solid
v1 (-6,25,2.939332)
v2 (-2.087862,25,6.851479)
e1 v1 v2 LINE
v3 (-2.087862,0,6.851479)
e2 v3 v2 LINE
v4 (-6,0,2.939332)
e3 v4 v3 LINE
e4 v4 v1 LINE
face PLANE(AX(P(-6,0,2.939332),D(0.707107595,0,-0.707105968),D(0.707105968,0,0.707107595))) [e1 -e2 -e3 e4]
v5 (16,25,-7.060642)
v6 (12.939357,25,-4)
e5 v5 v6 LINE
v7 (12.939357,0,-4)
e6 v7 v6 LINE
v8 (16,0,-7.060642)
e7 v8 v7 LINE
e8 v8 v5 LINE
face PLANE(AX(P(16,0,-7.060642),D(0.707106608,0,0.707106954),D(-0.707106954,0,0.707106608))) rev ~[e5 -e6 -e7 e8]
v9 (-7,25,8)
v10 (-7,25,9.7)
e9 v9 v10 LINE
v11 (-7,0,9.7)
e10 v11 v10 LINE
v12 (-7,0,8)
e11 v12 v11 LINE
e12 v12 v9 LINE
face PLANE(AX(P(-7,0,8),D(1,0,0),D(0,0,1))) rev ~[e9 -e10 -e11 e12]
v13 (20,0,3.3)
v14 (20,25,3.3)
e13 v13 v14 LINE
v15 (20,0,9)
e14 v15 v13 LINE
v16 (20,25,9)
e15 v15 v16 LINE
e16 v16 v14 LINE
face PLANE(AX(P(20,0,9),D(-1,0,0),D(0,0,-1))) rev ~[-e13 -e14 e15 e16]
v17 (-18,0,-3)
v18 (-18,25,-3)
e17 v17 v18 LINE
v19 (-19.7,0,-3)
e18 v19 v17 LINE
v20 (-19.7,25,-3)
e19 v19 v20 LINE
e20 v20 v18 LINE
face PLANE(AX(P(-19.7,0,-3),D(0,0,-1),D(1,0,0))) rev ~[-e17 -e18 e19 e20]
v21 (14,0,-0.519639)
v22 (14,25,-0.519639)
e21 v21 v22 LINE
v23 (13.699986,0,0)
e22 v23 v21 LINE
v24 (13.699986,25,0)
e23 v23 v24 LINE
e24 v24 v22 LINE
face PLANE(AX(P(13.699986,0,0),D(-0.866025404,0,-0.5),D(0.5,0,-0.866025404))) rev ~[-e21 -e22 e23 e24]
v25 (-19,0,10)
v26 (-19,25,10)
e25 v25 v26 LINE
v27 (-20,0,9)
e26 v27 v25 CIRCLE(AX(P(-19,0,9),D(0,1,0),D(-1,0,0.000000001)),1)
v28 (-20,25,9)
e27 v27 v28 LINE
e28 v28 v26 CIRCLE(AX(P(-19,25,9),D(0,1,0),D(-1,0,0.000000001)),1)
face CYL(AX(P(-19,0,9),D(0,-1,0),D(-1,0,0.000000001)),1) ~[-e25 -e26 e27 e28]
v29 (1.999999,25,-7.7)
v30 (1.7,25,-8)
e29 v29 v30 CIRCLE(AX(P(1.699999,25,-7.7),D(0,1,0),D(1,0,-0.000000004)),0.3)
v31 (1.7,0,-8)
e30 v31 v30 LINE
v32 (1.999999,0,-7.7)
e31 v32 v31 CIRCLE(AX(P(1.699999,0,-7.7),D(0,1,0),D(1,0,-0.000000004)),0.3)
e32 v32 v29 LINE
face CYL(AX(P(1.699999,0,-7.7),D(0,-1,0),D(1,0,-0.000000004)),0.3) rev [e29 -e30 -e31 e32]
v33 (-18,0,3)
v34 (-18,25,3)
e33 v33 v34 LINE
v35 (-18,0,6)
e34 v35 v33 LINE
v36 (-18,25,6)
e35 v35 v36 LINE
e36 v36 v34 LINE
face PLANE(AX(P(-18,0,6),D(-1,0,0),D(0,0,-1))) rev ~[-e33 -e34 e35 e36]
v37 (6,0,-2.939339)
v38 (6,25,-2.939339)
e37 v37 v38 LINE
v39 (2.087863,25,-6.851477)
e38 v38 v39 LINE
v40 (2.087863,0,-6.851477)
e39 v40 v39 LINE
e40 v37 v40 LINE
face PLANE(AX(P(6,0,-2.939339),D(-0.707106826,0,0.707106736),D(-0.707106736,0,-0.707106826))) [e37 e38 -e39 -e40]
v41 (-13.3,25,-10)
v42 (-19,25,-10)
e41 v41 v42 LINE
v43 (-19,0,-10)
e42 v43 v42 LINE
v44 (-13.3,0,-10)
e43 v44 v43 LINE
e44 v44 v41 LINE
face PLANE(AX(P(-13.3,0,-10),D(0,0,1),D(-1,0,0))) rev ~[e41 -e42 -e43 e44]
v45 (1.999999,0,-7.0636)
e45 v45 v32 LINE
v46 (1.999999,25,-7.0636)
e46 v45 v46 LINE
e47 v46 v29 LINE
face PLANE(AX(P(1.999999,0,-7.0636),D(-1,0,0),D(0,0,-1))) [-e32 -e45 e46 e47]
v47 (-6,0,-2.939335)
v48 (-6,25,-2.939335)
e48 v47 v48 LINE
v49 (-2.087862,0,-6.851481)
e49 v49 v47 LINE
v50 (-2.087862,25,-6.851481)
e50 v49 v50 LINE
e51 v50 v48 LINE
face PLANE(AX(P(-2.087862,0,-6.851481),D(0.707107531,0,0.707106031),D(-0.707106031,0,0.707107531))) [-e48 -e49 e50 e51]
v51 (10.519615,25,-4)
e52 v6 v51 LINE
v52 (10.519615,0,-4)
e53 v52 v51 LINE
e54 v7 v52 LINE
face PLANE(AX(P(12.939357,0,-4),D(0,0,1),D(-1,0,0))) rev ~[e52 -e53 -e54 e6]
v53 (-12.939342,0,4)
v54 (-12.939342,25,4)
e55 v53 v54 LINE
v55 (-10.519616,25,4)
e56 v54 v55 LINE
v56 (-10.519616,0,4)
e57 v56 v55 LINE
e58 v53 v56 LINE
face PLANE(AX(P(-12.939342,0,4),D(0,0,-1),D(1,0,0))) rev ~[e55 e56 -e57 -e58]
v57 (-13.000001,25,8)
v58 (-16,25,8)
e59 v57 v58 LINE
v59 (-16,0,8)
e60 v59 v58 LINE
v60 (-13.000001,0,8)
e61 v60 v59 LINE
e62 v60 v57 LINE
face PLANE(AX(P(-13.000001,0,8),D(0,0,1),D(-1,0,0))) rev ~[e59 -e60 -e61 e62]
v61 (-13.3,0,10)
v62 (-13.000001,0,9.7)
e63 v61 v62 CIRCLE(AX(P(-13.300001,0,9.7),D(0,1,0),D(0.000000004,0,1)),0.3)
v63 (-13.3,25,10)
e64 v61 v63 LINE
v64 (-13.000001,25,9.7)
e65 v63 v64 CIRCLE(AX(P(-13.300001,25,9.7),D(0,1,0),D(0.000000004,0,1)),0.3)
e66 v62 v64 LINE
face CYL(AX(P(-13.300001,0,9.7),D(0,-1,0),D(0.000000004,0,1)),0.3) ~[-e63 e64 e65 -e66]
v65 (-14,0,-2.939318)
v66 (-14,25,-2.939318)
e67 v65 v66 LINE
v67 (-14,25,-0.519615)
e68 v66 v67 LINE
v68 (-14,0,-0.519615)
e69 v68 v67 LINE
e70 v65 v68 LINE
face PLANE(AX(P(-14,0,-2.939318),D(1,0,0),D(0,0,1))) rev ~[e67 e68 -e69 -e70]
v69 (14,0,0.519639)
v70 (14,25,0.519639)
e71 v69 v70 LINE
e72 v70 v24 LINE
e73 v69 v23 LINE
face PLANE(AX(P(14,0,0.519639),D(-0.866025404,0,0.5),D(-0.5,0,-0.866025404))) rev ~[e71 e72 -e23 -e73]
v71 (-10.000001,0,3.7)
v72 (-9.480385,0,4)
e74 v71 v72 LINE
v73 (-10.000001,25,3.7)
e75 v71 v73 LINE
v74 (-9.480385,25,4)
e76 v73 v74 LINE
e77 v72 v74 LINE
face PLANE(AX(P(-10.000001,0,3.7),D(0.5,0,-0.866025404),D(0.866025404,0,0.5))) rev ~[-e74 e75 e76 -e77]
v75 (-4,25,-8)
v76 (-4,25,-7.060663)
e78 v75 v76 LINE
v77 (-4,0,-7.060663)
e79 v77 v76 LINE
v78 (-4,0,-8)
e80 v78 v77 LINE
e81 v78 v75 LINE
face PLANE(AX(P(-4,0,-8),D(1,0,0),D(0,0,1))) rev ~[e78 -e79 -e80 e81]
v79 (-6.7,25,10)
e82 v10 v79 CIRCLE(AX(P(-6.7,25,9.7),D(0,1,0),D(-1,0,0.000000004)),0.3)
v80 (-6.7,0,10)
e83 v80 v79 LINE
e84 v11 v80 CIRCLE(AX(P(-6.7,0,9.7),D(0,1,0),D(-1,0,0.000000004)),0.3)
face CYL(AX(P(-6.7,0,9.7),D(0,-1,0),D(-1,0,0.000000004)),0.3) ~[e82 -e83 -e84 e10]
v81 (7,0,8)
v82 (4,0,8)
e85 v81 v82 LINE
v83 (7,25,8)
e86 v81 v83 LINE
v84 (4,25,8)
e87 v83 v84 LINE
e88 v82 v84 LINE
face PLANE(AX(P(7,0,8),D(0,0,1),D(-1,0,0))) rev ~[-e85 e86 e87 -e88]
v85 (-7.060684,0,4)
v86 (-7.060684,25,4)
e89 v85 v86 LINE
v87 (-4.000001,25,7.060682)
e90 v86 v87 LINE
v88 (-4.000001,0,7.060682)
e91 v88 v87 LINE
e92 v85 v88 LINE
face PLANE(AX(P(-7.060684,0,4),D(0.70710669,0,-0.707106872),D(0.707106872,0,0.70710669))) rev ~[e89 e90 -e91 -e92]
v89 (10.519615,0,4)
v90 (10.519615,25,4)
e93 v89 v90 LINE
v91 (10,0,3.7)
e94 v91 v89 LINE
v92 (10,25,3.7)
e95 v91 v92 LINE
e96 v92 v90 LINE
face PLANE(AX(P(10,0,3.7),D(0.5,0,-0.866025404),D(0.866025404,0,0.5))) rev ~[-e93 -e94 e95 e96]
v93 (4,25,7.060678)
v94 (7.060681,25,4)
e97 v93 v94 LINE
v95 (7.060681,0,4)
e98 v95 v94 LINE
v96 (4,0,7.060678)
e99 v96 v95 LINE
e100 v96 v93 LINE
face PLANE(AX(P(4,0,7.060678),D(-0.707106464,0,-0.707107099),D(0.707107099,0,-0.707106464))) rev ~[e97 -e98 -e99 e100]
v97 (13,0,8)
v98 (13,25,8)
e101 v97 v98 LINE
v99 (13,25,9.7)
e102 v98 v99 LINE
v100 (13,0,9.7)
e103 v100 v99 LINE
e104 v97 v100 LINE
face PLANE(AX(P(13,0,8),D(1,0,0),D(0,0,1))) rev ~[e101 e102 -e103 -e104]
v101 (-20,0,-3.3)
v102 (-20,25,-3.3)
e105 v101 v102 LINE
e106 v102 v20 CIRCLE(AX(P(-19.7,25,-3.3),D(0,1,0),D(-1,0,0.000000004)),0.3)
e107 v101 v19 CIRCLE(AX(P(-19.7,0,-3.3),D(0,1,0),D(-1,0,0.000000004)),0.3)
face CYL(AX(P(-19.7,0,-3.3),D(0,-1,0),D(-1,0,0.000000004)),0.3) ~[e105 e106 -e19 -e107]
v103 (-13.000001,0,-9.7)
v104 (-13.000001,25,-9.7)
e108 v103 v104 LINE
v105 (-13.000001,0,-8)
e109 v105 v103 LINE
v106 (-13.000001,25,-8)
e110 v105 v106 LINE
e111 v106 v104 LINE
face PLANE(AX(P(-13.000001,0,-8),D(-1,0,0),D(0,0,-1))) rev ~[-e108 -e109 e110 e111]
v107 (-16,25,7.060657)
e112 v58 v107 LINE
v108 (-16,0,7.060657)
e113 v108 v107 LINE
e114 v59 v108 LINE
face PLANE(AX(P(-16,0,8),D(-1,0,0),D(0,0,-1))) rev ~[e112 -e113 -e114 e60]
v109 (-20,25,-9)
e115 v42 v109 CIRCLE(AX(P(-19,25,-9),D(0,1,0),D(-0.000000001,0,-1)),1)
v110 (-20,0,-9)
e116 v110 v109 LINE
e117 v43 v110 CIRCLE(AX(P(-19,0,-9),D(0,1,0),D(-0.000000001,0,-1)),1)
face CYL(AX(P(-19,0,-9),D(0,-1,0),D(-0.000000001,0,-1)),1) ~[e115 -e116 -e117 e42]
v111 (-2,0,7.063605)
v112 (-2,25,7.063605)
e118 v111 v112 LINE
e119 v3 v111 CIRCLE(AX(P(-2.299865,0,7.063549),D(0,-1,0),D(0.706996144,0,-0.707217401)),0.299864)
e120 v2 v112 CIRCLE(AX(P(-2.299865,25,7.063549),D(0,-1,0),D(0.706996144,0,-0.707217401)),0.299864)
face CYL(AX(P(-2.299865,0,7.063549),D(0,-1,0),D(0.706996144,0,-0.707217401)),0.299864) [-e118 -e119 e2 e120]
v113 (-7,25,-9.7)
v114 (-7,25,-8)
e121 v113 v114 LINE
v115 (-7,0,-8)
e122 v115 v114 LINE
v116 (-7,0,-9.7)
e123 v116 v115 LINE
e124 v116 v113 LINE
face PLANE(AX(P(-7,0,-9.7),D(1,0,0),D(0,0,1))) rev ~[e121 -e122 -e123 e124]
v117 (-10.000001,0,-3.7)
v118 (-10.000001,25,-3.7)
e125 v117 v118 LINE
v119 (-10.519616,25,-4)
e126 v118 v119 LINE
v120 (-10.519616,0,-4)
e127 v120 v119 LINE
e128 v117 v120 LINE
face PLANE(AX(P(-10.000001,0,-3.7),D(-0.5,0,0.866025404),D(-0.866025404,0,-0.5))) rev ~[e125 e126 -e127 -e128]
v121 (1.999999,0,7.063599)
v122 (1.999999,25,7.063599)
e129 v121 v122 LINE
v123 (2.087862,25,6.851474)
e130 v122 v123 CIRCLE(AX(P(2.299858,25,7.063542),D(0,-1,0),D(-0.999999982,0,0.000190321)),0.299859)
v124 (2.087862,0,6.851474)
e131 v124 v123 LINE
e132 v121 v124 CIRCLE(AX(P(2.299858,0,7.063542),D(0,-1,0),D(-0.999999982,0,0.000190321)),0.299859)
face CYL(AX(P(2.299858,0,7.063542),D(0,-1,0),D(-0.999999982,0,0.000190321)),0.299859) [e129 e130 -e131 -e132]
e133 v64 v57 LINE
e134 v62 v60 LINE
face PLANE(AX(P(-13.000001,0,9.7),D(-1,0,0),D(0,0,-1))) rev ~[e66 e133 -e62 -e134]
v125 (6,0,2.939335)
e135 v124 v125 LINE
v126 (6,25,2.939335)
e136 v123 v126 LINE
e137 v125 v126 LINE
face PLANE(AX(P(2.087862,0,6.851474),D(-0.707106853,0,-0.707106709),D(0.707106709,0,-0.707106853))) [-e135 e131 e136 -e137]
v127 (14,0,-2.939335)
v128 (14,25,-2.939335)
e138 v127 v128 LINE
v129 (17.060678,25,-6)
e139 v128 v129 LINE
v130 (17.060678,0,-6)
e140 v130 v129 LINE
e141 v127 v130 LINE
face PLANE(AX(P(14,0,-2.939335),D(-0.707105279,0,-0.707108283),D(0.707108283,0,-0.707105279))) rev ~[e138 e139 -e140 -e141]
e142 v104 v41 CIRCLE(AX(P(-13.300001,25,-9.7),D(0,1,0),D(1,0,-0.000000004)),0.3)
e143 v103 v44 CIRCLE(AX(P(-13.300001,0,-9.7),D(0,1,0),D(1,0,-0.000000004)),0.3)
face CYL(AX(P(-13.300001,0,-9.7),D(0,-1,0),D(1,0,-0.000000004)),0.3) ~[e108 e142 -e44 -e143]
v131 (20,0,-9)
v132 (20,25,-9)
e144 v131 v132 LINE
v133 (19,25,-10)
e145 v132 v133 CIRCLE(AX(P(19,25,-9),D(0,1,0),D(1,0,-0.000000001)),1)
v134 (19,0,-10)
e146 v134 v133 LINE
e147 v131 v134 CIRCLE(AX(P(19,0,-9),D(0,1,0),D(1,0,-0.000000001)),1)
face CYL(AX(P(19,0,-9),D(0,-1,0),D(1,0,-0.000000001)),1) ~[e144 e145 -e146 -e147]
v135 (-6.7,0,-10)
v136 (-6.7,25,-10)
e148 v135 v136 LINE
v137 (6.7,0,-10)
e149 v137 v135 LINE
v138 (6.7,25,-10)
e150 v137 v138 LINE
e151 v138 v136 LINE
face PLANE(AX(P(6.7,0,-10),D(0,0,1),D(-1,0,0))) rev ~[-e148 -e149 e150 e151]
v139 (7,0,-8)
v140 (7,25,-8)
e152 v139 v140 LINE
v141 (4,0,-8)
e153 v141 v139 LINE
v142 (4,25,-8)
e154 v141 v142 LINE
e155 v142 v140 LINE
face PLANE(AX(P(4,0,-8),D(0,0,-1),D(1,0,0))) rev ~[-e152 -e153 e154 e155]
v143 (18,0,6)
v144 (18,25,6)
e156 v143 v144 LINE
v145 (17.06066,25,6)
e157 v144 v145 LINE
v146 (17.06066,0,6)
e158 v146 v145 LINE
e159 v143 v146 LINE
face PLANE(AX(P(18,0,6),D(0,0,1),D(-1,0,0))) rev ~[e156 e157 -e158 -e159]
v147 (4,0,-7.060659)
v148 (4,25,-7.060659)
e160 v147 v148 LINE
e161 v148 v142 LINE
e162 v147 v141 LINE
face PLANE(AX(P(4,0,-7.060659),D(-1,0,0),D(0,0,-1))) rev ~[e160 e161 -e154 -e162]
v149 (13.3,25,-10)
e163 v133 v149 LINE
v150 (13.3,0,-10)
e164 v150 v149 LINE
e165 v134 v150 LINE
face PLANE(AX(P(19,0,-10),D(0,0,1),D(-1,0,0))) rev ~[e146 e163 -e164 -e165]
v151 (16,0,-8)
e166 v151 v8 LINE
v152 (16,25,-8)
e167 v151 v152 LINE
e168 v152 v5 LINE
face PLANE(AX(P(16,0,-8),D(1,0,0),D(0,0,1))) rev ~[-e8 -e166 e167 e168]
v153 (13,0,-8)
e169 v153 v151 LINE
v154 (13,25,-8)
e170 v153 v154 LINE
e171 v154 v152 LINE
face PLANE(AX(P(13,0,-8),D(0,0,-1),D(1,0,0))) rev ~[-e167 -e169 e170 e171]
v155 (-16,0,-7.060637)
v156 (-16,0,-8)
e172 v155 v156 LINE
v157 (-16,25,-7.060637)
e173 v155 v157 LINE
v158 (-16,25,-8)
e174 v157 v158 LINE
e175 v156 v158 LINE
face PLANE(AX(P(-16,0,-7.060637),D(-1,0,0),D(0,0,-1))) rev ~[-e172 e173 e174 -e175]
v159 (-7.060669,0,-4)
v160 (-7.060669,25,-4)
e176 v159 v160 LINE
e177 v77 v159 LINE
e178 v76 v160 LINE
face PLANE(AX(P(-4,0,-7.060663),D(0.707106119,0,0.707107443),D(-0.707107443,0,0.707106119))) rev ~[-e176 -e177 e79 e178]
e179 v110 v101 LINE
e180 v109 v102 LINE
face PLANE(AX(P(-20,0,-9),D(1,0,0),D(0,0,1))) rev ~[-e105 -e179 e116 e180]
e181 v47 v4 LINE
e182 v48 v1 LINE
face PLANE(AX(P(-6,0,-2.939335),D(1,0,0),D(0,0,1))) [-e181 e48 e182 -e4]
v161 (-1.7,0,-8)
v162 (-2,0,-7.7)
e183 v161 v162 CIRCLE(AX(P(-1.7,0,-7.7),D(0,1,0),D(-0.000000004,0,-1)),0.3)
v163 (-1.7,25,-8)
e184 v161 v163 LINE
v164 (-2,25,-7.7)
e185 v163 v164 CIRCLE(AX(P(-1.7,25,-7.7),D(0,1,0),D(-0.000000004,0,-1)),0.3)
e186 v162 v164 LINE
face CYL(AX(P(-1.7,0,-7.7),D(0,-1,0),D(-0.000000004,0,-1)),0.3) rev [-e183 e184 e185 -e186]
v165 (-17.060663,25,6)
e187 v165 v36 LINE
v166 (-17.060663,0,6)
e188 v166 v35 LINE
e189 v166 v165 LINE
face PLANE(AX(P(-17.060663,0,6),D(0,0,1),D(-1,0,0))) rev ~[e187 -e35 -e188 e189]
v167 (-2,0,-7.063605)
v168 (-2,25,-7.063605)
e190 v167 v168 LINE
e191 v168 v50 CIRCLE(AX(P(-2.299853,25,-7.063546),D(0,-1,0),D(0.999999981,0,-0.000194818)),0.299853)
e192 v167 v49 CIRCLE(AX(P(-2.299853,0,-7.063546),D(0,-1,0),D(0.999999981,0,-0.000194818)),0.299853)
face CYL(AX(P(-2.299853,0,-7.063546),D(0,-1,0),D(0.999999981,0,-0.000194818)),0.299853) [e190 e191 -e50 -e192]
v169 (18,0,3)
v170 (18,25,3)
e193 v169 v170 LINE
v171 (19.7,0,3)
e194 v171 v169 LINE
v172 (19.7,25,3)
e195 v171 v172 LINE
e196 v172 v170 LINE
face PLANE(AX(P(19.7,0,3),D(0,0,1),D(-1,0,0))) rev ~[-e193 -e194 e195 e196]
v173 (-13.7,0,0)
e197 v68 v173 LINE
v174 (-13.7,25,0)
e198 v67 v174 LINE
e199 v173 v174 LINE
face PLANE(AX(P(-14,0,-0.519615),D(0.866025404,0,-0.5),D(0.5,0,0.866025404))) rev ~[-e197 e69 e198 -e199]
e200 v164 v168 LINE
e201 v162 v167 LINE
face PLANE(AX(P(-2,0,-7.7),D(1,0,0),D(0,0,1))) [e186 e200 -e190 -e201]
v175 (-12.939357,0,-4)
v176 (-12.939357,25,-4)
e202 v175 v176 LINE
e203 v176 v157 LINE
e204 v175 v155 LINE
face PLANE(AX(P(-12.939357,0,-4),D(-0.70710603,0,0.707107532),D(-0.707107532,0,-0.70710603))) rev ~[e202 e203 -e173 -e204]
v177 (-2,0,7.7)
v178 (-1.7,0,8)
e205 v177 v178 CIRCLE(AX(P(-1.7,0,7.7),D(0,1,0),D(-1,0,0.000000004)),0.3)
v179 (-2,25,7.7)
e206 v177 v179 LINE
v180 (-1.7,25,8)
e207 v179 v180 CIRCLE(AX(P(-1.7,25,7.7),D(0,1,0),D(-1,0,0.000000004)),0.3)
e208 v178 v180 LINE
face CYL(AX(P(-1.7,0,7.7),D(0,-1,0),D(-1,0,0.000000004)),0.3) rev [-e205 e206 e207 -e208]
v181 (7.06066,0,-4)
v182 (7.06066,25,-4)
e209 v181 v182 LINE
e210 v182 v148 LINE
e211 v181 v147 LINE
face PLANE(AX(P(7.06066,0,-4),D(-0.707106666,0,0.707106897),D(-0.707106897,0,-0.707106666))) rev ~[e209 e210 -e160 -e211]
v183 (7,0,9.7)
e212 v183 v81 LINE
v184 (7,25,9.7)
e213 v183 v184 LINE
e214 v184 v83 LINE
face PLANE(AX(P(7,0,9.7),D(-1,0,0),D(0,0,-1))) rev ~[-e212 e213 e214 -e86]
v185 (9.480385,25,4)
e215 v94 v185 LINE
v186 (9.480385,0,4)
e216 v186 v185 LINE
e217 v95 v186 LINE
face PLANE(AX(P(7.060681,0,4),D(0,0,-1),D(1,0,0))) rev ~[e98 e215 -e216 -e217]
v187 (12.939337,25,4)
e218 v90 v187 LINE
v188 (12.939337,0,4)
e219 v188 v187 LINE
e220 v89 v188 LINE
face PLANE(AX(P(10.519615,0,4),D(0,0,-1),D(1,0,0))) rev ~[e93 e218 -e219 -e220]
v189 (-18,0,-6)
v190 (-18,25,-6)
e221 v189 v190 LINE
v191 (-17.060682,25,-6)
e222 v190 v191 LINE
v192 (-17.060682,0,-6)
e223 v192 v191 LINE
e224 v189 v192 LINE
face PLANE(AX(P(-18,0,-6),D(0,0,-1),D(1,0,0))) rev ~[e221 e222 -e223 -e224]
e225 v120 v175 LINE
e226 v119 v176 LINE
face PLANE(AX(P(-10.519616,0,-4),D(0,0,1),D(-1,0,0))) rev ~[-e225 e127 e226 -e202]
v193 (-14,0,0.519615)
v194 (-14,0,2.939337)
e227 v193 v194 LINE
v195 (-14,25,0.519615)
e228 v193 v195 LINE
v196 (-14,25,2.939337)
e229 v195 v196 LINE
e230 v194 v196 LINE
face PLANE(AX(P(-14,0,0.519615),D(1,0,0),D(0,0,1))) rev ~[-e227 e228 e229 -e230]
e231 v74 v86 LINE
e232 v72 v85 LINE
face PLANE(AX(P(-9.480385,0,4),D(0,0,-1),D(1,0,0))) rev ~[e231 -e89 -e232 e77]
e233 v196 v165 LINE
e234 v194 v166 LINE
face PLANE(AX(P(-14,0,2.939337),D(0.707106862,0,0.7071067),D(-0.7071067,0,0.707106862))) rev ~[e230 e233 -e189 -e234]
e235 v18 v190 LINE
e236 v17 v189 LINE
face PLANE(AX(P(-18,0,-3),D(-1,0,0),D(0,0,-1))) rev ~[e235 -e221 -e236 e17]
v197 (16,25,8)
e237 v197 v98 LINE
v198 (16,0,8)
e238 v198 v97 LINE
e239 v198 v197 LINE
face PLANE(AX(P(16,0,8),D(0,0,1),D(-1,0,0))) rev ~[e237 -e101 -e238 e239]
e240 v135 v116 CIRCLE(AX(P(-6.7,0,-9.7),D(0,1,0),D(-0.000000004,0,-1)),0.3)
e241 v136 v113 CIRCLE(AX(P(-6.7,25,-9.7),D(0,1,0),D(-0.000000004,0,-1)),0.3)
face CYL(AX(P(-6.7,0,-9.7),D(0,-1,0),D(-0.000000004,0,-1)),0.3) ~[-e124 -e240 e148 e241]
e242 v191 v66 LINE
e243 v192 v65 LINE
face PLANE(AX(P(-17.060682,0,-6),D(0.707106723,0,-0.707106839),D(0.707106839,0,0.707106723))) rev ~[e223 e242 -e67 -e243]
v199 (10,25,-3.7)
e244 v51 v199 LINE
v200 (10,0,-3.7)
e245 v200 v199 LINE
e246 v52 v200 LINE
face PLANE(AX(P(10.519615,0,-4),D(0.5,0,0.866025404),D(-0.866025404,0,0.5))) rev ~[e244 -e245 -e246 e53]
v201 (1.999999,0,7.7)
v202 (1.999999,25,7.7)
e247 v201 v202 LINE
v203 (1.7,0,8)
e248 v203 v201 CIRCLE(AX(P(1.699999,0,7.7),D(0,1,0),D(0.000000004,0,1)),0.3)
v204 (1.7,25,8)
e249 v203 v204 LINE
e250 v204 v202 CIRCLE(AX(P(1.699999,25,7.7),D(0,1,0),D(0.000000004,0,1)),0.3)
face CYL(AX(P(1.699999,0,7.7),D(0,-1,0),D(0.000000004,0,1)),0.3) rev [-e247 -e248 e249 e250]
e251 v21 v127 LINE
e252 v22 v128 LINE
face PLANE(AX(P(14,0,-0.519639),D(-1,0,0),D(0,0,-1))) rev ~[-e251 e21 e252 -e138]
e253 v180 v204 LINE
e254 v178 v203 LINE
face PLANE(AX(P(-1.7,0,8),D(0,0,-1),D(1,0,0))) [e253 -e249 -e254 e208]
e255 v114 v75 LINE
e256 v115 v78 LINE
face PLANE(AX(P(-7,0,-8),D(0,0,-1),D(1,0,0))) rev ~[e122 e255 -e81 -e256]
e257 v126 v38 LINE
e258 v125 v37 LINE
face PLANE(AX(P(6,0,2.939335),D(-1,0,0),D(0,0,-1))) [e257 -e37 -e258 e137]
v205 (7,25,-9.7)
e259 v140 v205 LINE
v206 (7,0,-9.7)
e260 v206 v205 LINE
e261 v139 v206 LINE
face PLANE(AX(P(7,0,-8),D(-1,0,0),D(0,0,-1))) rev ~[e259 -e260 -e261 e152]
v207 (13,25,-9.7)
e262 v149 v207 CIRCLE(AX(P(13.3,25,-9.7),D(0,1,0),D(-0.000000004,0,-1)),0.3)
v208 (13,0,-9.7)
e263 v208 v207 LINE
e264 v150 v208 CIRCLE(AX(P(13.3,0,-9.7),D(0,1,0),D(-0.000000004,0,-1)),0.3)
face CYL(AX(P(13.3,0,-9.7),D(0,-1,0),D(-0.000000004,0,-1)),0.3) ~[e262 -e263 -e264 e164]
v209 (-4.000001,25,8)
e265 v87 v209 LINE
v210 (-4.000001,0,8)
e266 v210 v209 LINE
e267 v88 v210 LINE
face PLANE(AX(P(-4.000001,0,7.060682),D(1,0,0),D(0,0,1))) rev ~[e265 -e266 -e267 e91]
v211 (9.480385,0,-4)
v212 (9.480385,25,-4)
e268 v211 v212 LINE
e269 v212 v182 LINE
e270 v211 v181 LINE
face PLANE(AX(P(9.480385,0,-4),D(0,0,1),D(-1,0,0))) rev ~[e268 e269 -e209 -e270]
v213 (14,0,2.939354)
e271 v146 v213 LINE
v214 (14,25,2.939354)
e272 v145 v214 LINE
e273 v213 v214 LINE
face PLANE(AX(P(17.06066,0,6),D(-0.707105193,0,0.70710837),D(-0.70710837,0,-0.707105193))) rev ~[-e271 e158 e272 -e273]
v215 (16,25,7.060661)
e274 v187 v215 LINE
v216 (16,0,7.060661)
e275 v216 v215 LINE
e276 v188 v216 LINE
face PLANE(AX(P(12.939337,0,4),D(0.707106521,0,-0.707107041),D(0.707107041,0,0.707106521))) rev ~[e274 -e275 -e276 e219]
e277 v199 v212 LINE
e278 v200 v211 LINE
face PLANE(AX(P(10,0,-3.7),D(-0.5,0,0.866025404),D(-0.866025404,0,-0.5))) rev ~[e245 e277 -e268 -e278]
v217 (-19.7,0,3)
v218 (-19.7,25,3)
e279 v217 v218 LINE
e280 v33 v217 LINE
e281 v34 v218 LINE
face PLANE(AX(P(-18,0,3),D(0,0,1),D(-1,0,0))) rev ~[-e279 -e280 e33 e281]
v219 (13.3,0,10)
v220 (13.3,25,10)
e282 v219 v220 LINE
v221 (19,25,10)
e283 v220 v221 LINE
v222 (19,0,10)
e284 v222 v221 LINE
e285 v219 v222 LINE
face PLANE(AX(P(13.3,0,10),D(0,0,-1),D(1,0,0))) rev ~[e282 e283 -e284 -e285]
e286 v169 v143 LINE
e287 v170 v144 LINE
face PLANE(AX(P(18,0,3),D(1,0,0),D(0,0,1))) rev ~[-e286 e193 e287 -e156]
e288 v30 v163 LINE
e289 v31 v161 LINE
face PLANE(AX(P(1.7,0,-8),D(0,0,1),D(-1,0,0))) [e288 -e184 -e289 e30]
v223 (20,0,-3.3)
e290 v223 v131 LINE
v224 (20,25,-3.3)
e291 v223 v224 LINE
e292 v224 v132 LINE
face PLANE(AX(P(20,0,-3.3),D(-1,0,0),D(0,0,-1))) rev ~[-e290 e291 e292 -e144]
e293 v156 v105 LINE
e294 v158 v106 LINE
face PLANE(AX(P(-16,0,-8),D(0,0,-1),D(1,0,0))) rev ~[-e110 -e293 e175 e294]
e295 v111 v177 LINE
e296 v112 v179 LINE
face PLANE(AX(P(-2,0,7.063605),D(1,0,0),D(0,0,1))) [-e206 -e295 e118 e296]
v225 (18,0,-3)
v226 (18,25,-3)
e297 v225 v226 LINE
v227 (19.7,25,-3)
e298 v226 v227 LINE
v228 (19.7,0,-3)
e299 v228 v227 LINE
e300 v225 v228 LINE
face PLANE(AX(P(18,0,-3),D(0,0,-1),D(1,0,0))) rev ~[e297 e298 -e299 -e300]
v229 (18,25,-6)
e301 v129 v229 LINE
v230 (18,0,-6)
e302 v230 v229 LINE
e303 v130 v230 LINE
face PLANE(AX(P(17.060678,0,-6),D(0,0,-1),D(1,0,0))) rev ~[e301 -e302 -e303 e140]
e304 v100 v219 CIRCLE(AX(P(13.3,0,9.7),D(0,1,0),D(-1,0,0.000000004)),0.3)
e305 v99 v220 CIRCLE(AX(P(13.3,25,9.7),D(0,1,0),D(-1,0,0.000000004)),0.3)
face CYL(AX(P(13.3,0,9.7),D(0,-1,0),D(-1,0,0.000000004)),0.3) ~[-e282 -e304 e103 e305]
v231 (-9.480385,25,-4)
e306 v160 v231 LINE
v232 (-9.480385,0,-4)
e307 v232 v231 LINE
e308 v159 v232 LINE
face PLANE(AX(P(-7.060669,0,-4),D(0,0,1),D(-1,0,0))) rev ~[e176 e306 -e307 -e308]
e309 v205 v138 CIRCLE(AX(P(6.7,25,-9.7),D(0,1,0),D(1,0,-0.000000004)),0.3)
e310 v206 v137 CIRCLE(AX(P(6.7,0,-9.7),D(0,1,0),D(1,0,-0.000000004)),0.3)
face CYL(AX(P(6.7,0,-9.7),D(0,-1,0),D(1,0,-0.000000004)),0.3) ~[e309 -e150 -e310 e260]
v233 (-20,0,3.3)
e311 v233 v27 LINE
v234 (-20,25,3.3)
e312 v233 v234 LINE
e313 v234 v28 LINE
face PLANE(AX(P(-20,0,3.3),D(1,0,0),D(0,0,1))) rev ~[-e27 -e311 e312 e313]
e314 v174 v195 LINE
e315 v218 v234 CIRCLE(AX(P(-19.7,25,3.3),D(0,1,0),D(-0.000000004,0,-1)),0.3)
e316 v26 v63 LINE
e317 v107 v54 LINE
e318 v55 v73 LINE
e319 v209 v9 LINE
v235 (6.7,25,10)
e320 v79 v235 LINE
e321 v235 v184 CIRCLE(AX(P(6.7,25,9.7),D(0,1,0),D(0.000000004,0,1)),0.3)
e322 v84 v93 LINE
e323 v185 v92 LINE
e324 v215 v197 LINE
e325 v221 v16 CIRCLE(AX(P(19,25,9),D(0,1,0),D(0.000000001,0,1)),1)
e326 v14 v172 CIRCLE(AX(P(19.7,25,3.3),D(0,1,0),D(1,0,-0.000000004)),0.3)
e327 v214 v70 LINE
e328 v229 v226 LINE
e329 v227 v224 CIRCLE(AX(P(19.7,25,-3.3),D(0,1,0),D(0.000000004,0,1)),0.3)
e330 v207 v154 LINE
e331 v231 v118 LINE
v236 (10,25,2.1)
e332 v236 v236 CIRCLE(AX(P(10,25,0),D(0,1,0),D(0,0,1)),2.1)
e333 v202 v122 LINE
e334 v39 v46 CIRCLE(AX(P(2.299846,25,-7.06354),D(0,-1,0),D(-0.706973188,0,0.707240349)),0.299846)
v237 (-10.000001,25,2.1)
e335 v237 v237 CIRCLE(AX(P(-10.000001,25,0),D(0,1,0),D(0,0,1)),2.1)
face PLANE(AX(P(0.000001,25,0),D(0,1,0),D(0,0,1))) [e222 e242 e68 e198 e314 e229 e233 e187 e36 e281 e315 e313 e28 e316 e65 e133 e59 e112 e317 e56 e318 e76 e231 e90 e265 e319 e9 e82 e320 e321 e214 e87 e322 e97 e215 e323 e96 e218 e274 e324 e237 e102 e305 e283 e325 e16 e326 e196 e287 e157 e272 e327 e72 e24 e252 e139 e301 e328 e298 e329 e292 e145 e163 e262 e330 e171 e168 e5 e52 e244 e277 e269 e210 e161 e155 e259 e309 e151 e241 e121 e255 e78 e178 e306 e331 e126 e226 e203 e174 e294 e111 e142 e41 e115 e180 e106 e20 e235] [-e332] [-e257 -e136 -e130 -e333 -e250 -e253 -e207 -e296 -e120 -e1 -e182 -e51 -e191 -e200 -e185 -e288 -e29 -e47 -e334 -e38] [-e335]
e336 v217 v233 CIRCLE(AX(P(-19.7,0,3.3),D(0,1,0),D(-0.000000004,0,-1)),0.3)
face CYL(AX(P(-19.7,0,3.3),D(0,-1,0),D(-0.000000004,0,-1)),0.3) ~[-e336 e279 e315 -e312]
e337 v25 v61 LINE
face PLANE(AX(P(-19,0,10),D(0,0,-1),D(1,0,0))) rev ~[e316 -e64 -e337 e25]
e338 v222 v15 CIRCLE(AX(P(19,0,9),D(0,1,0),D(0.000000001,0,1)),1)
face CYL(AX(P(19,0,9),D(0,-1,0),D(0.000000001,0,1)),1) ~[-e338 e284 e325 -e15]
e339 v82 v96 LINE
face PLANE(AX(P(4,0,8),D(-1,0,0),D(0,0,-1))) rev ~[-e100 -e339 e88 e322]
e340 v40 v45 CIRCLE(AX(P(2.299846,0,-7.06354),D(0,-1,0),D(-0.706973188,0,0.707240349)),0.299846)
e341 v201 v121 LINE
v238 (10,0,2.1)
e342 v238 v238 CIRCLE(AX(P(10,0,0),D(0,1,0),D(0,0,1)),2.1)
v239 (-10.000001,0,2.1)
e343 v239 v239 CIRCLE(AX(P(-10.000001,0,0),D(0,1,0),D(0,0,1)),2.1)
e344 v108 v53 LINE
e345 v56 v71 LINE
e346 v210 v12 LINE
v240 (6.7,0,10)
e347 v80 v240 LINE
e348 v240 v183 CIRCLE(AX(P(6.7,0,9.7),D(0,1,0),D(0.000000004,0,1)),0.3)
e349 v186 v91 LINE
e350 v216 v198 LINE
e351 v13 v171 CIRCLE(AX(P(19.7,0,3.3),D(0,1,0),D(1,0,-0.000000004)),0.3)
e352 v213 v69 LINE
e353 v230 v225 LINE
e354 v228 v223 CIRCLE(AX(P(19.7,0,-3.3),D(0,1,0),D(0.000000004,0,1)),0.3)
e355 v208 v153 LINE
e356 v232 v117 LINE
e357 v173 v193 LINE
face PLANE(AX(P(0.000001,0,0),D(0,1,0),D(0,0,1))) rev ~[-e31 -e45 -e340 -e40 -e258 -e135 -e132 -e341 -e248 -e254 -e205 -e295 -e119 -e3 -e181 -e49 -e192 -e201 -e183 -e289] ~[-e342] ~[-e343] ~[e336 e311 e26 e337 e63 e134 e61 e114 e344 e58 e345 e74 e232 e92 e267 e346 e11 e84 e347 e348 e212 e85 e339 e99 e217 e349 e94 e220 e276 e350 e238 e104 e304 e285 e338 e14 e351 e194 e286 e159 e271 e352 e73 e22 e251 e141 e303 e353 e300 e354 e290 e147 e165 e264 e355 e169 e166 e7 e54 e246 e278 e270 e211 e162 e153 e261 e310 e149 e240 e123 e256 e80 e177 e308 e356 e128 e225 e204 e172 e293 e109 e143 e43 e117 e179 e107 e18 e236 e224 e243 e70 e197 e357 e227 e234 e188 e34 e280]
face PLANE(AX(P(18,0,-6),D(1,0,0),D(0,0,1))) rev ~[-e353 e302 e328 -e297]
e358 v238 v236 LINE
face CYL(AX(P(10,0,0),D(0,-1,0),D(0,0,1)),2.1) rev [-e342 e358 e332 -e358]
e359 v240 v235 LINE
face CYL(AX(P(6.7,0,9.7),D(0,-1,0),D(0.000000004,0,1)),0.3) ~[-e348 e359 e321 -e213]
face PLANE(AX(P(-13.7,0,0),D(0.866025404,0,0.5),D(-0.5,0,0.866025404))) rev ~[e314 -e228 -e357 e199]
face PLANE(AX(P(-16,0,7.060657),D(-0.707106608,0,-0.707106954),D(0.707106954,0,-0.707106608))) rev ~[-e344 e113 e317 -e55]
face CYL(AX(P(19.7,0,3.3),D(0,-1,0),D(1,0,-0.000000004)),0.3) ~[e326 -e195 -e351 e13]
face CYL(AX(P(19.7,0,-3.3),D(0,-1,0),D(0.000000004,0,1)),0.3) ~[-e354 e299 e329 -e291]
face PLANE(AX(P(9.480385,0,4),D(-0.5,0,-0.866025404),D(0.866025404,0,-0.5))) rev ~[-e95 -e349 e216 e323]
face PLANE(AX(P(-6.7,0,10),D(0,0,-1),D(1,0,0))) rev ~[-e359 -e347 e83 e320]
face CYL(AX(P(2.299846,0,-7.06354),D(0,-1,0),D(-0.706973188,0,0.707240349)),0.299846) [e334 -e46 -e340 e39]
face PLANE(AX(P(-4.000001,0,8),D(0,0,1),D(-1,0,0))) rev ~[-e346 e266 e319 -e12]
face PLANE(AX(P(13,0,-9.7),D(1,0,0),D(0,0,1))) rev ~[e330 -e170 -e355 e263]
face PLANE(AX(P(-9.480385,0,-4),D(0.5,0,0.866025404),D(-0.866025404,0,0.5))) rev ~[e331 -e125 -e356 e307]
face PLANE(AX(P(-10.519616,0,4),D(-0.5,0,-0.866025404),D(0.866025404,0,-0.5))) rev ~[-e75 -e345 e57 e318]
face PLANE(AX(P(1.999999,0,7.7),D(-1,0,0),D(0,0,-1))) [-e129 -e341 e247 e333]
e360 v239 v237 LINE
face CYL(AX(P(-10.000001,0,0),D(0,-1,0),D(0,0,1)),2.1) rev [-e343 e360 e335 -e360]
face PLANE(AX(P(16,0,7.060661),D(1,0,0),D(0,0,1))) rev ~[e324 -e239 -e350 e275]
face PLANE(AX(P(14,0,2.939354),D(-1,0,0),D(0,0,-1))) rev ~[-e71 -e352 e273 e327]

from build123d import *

# Parameters (mm, degrees)
MODEL_R                  = 2.0999999
STRUCTURAL_MEMBER1_DEPTH = 25


with BuildPart() as part:
    # Model → Structural Member1 (new body)
    with BuildSketch(Plane.ZX):
        with BuildLine():
            Line((-10, -13.3000005), (-10, -19))
            ThreePointArc((-10, -19), (-9.707106781, -19.707106781), (-9, -20))
            Line((-9, -20), (-3.3, -20))
            ThreePointArc((-3.3, -20), (-3.087867966, -19.912132034), (-3, -19.7))
            Line((-3, -19.7), (-3, -18))
            Line((-3, -18), (-6, -18))
            Line((-6, -18), (-6, -17.0606825))
            Line((-6, -17.0606825), (-2.939318, -14))
            Line((-2.939318, -14), (-0.519615242, -14))
            Line((-0.519615242, -14), (0, -13.7))
            Line((0, -13.7), (0.519615242, -14))
            Line((0.519615242, -14), (2.9393365, -14))
            Line((2.9393365, -14), (6, -17.0606628))
            Line((6, -17.0606628), (6, -18))
            Line((6, -18), (3, -18))
            Line((3, -18), (3, -19.7))
            ThreePointArc((3, -19.7), (3.087867966, -19.912132034), (3.3, -20))
            Line((3.3, -20), (9, -20))
            ThreePointArc((9, -20), (9.707106781, -19.707106781), (10, -19))
            Line((10, -19), (10, -13.3000005))
            ThreePointArc((10, -13.3000005), (9.912132034, -13.087868466), (9.7, -13.0000005))
            Line((9.7, -13.0000005), (8, -13.0000005))
            Line((8, -13.0000005), (8, -16.0000005))
            Line((8, -16.0000005), (7.06065685, -16.0000005))
            Line((7.06065685, -16.0000005), (4, -12.93934215))
            Line((4, -12.93934215), (4, -10.519615742))
            Line((4, -10.519615742), (3.7, -10.0000005))
            Line((3.7, -10.0000005), (4, -9.480385258))
            Line((4, -9.480385258), (4, -7.06068365))
            Line((4, -7.06068365), (7.06068236, -4.000000504))
            Line((7.06068236, -4.000000504), (8, -4.000000504))
            Line((8, -4.000000504), (8, -7.0000005))
            Line((8, -7.0000005), (9.7, -7.0000005))
            ThreePointArc((9.7, -7.0000005), (9.912132034, -6.912132534), (10, -6.7000005))
            Line((10, -6.7000005), (10, 6.7))
            ThreePointArc((10, 6.7), (9.912132034, 6.912132034), (9.7, 7))
            Line((9.7, 7), (8, 7))
            Line((8, 7), (8, 4))
            Line((8, 4), (7.060678, 4))
            Line((7.060678, 4), (4, 7.06068075))
            Line((4, 7.06068075), (4, 9.480384758))
            Line((4, 9.480384758), (3.7, 10))
            Line((3.7, 10), (4, 10.519615242))
            Line((4, 10.519615242), (4, 12.93933675))
            Line((4, 12.93933675), (7.060661, 16))
            Line((7.060661, 16), (8, 16))
            Line((8, 16), (8, 13))
            Line((8, 13), (9.7, 13))
            ThreePointArc((9.7, 13), (9.912132034, 13.087867966), (10, 13.3))
            Line((10, 13.3), (10, 19))
            ThreePointArc((10, 19), (9.707106781, 19.707106781), (9, 20))
            Line((9, 20), (3.3, 20))
            ThreePointArc((3.3, 20), (3.087867966, 19.912132034), (3, 19.7))
            Line((3, 19.7), (3, 18))
            Line((3, 18), (6, 18))
            Line((6, 18), (6, 17.06065975))
            Line((6, 17.06065975), (2.939354, 14))
            Line((2.939354, 14), (0.519638625, 14))
            Line((0.519638625, 14), (0, 13.6999865))
            Line((0, 13.6999865), (-0.519638625, 14))
            Line((-0.519638625, 14), (-2.939335, 14))
            Line((-2.939335, 14), (-6, 17.060678))
            Line((-6, 17.060678), (-6, 18))
            Line((-6, 18), (-3, 18))
            Line((-3, 18), (-3, 19.7))
            ThreePointArc((-3, 19.7), (-3.087867966, 19.912132034), (-3.3, 20))
            Line((-3.3, 20), (-9, 20))
            ThreePointArc((-9, 20), (-9.707106781, 19.707106781), (-10, 19))
            Line((-10, 19), (-10, 13.3))
            ThreePointArc((-10, 13.3), (-9.912132034, 13.087867966), (-9.7, 13))
            Line((-9.7, 13), (-8, 13))
            Line((-8, 13), (-8, 16))
            Line((-8, 16), (-7.060642, 16))
            Line((-7.060642, 16), (-4, 12.9393565))
            Line((-4, 12.9393565), (-4, 10.519615242))
            Line((-4, 10.519615242), (-3.7, 10))
            Line((-3.7, 10), (-4, 9.480384758))
            Line((-4, 9.480384758), (-4, 7.06066))
            Line((-4, 7.06066), (-7.060659, 4))
            Line((-7.060659, 4), (-8, 4))
            Line((-8, 4), (-8, 7))
            Line((-8, 7), (-9.7, 7))
            ThreePointArc((-9.7, 7), (-9.912132034, 6.912132034), (-10, 6.7))
            Line((-10, 6.7), (-10, -6.7000005))
            ThreePointArc((-10, -6.7000005), (-9.912132034, -6.912132534), (-9.7, -7.0000005))
            Line((-9.7, -7.0000005), (-8, -7.0000005))
            Line((-8, -7.0000005), (-8, -4.0000005))
            Line((-8, -4.0000005), (-7.06066257, -4.0000005))
            Line((-7.06066257, -4.0000005), (-4, -7.0606688))
            Line((-4, -7.0606688), (-4, -9.480385258))
            Line((-4, -9.480385258), (-3.7, -10.0000005))
            Line((-3.7, -10.0000005), (-4, -10.519615742))
            Line((-4, -10.519615742), (-4, -12.9393575))
            Line((-4, -12.9393575), (-7.0606365, -16.0000005))
            Line((-7.0606365, -16.0000005), (-8, -16.0000005))
            Line((-8, -16.0000005), (-8, -13.0000005))
            Line((-8, -13.0000005), (-9.7, -13.0000005))
            ThreePointArc((-9.7, -13.0000005), (-9.912132034, -13.087868466), (-10, -13.3000005))
        make_face()
        with Locations((0, 10)):
            Circle(MODEL_R, mode=Mode.SUBTRACT)
        with Locations((0, -10.0000005)):
            Circle(MODEL_R, mode=Mode.SUBTRACT)
        with BuildLine():
            Line((-8, 1.6999995), (-8, -1.70000025))
            ThreePointArc((-8, -1.70000025), (-7.912132034, -1.912132284), (-7.7, -2.00000025))
            Line((-7.7, -2.00000025), (-7.063604538, -2.00000025))
            ThreePointArc((-7.063604538, -2.00000025), (-6.948800316, -2.022823986), (-6.851481305, -2.087861995))
            Line((-6.851481305, -2.087861995), (-2.939335, -6))
            Line((-2.939335, -6), (2.93933195, -6))
            Line((2.93933195, -6), (6.851479294, -2.087861656))
            ThreePointArc((6.851479294, -2.087861656), (6.948799922, -2.022824212), (7.06360515, -2.00000025))
            Line((7.06360515, -2.00000025), (7.7, -2.00000025))
            ThreePointArc((7.7, -2.00000025), (7.912132034, -1.912132284), (8, -1.70000025))
            Line((8, -1.70000025), (8, 1.6999995))
            ThreePointArc((8, 1.6999995), (7.912132034, 1.912131534), (7.7, 1.9999995))
            Line((7.7, 1.9999995), (7.06359945, 1.9999995))
            ThreePointArc((7.06359945, 1.9999995), (6.9487942, 2.022823721), (6.851474147, 2.087862153))
            Line((6.851474147, 2.087862153), (2.9393355, 6))
            Line((2.9393355, 6), (-2.939339, 6))
            Line((-2.939339, 6), (-6.851476944, 2.087862556))
            ThreePointArc((-6.851476944, 2.087862556), (-6.948795311, 2.022823488), (-7.063599538, 1.9999995))
            Line((-7.063599538, 1.9999995), (-7.7, 1.9999995))
            ThreePointArc((-7.7, 1.9999995), (-7.912132034, 1.912131534), (-8, 1.6999995))
        make_face(mode=Mode.SUBTRACT)
    extrude(amount=STRUCTURAL_MEMBER1_DEPTH)


solid = part.part
